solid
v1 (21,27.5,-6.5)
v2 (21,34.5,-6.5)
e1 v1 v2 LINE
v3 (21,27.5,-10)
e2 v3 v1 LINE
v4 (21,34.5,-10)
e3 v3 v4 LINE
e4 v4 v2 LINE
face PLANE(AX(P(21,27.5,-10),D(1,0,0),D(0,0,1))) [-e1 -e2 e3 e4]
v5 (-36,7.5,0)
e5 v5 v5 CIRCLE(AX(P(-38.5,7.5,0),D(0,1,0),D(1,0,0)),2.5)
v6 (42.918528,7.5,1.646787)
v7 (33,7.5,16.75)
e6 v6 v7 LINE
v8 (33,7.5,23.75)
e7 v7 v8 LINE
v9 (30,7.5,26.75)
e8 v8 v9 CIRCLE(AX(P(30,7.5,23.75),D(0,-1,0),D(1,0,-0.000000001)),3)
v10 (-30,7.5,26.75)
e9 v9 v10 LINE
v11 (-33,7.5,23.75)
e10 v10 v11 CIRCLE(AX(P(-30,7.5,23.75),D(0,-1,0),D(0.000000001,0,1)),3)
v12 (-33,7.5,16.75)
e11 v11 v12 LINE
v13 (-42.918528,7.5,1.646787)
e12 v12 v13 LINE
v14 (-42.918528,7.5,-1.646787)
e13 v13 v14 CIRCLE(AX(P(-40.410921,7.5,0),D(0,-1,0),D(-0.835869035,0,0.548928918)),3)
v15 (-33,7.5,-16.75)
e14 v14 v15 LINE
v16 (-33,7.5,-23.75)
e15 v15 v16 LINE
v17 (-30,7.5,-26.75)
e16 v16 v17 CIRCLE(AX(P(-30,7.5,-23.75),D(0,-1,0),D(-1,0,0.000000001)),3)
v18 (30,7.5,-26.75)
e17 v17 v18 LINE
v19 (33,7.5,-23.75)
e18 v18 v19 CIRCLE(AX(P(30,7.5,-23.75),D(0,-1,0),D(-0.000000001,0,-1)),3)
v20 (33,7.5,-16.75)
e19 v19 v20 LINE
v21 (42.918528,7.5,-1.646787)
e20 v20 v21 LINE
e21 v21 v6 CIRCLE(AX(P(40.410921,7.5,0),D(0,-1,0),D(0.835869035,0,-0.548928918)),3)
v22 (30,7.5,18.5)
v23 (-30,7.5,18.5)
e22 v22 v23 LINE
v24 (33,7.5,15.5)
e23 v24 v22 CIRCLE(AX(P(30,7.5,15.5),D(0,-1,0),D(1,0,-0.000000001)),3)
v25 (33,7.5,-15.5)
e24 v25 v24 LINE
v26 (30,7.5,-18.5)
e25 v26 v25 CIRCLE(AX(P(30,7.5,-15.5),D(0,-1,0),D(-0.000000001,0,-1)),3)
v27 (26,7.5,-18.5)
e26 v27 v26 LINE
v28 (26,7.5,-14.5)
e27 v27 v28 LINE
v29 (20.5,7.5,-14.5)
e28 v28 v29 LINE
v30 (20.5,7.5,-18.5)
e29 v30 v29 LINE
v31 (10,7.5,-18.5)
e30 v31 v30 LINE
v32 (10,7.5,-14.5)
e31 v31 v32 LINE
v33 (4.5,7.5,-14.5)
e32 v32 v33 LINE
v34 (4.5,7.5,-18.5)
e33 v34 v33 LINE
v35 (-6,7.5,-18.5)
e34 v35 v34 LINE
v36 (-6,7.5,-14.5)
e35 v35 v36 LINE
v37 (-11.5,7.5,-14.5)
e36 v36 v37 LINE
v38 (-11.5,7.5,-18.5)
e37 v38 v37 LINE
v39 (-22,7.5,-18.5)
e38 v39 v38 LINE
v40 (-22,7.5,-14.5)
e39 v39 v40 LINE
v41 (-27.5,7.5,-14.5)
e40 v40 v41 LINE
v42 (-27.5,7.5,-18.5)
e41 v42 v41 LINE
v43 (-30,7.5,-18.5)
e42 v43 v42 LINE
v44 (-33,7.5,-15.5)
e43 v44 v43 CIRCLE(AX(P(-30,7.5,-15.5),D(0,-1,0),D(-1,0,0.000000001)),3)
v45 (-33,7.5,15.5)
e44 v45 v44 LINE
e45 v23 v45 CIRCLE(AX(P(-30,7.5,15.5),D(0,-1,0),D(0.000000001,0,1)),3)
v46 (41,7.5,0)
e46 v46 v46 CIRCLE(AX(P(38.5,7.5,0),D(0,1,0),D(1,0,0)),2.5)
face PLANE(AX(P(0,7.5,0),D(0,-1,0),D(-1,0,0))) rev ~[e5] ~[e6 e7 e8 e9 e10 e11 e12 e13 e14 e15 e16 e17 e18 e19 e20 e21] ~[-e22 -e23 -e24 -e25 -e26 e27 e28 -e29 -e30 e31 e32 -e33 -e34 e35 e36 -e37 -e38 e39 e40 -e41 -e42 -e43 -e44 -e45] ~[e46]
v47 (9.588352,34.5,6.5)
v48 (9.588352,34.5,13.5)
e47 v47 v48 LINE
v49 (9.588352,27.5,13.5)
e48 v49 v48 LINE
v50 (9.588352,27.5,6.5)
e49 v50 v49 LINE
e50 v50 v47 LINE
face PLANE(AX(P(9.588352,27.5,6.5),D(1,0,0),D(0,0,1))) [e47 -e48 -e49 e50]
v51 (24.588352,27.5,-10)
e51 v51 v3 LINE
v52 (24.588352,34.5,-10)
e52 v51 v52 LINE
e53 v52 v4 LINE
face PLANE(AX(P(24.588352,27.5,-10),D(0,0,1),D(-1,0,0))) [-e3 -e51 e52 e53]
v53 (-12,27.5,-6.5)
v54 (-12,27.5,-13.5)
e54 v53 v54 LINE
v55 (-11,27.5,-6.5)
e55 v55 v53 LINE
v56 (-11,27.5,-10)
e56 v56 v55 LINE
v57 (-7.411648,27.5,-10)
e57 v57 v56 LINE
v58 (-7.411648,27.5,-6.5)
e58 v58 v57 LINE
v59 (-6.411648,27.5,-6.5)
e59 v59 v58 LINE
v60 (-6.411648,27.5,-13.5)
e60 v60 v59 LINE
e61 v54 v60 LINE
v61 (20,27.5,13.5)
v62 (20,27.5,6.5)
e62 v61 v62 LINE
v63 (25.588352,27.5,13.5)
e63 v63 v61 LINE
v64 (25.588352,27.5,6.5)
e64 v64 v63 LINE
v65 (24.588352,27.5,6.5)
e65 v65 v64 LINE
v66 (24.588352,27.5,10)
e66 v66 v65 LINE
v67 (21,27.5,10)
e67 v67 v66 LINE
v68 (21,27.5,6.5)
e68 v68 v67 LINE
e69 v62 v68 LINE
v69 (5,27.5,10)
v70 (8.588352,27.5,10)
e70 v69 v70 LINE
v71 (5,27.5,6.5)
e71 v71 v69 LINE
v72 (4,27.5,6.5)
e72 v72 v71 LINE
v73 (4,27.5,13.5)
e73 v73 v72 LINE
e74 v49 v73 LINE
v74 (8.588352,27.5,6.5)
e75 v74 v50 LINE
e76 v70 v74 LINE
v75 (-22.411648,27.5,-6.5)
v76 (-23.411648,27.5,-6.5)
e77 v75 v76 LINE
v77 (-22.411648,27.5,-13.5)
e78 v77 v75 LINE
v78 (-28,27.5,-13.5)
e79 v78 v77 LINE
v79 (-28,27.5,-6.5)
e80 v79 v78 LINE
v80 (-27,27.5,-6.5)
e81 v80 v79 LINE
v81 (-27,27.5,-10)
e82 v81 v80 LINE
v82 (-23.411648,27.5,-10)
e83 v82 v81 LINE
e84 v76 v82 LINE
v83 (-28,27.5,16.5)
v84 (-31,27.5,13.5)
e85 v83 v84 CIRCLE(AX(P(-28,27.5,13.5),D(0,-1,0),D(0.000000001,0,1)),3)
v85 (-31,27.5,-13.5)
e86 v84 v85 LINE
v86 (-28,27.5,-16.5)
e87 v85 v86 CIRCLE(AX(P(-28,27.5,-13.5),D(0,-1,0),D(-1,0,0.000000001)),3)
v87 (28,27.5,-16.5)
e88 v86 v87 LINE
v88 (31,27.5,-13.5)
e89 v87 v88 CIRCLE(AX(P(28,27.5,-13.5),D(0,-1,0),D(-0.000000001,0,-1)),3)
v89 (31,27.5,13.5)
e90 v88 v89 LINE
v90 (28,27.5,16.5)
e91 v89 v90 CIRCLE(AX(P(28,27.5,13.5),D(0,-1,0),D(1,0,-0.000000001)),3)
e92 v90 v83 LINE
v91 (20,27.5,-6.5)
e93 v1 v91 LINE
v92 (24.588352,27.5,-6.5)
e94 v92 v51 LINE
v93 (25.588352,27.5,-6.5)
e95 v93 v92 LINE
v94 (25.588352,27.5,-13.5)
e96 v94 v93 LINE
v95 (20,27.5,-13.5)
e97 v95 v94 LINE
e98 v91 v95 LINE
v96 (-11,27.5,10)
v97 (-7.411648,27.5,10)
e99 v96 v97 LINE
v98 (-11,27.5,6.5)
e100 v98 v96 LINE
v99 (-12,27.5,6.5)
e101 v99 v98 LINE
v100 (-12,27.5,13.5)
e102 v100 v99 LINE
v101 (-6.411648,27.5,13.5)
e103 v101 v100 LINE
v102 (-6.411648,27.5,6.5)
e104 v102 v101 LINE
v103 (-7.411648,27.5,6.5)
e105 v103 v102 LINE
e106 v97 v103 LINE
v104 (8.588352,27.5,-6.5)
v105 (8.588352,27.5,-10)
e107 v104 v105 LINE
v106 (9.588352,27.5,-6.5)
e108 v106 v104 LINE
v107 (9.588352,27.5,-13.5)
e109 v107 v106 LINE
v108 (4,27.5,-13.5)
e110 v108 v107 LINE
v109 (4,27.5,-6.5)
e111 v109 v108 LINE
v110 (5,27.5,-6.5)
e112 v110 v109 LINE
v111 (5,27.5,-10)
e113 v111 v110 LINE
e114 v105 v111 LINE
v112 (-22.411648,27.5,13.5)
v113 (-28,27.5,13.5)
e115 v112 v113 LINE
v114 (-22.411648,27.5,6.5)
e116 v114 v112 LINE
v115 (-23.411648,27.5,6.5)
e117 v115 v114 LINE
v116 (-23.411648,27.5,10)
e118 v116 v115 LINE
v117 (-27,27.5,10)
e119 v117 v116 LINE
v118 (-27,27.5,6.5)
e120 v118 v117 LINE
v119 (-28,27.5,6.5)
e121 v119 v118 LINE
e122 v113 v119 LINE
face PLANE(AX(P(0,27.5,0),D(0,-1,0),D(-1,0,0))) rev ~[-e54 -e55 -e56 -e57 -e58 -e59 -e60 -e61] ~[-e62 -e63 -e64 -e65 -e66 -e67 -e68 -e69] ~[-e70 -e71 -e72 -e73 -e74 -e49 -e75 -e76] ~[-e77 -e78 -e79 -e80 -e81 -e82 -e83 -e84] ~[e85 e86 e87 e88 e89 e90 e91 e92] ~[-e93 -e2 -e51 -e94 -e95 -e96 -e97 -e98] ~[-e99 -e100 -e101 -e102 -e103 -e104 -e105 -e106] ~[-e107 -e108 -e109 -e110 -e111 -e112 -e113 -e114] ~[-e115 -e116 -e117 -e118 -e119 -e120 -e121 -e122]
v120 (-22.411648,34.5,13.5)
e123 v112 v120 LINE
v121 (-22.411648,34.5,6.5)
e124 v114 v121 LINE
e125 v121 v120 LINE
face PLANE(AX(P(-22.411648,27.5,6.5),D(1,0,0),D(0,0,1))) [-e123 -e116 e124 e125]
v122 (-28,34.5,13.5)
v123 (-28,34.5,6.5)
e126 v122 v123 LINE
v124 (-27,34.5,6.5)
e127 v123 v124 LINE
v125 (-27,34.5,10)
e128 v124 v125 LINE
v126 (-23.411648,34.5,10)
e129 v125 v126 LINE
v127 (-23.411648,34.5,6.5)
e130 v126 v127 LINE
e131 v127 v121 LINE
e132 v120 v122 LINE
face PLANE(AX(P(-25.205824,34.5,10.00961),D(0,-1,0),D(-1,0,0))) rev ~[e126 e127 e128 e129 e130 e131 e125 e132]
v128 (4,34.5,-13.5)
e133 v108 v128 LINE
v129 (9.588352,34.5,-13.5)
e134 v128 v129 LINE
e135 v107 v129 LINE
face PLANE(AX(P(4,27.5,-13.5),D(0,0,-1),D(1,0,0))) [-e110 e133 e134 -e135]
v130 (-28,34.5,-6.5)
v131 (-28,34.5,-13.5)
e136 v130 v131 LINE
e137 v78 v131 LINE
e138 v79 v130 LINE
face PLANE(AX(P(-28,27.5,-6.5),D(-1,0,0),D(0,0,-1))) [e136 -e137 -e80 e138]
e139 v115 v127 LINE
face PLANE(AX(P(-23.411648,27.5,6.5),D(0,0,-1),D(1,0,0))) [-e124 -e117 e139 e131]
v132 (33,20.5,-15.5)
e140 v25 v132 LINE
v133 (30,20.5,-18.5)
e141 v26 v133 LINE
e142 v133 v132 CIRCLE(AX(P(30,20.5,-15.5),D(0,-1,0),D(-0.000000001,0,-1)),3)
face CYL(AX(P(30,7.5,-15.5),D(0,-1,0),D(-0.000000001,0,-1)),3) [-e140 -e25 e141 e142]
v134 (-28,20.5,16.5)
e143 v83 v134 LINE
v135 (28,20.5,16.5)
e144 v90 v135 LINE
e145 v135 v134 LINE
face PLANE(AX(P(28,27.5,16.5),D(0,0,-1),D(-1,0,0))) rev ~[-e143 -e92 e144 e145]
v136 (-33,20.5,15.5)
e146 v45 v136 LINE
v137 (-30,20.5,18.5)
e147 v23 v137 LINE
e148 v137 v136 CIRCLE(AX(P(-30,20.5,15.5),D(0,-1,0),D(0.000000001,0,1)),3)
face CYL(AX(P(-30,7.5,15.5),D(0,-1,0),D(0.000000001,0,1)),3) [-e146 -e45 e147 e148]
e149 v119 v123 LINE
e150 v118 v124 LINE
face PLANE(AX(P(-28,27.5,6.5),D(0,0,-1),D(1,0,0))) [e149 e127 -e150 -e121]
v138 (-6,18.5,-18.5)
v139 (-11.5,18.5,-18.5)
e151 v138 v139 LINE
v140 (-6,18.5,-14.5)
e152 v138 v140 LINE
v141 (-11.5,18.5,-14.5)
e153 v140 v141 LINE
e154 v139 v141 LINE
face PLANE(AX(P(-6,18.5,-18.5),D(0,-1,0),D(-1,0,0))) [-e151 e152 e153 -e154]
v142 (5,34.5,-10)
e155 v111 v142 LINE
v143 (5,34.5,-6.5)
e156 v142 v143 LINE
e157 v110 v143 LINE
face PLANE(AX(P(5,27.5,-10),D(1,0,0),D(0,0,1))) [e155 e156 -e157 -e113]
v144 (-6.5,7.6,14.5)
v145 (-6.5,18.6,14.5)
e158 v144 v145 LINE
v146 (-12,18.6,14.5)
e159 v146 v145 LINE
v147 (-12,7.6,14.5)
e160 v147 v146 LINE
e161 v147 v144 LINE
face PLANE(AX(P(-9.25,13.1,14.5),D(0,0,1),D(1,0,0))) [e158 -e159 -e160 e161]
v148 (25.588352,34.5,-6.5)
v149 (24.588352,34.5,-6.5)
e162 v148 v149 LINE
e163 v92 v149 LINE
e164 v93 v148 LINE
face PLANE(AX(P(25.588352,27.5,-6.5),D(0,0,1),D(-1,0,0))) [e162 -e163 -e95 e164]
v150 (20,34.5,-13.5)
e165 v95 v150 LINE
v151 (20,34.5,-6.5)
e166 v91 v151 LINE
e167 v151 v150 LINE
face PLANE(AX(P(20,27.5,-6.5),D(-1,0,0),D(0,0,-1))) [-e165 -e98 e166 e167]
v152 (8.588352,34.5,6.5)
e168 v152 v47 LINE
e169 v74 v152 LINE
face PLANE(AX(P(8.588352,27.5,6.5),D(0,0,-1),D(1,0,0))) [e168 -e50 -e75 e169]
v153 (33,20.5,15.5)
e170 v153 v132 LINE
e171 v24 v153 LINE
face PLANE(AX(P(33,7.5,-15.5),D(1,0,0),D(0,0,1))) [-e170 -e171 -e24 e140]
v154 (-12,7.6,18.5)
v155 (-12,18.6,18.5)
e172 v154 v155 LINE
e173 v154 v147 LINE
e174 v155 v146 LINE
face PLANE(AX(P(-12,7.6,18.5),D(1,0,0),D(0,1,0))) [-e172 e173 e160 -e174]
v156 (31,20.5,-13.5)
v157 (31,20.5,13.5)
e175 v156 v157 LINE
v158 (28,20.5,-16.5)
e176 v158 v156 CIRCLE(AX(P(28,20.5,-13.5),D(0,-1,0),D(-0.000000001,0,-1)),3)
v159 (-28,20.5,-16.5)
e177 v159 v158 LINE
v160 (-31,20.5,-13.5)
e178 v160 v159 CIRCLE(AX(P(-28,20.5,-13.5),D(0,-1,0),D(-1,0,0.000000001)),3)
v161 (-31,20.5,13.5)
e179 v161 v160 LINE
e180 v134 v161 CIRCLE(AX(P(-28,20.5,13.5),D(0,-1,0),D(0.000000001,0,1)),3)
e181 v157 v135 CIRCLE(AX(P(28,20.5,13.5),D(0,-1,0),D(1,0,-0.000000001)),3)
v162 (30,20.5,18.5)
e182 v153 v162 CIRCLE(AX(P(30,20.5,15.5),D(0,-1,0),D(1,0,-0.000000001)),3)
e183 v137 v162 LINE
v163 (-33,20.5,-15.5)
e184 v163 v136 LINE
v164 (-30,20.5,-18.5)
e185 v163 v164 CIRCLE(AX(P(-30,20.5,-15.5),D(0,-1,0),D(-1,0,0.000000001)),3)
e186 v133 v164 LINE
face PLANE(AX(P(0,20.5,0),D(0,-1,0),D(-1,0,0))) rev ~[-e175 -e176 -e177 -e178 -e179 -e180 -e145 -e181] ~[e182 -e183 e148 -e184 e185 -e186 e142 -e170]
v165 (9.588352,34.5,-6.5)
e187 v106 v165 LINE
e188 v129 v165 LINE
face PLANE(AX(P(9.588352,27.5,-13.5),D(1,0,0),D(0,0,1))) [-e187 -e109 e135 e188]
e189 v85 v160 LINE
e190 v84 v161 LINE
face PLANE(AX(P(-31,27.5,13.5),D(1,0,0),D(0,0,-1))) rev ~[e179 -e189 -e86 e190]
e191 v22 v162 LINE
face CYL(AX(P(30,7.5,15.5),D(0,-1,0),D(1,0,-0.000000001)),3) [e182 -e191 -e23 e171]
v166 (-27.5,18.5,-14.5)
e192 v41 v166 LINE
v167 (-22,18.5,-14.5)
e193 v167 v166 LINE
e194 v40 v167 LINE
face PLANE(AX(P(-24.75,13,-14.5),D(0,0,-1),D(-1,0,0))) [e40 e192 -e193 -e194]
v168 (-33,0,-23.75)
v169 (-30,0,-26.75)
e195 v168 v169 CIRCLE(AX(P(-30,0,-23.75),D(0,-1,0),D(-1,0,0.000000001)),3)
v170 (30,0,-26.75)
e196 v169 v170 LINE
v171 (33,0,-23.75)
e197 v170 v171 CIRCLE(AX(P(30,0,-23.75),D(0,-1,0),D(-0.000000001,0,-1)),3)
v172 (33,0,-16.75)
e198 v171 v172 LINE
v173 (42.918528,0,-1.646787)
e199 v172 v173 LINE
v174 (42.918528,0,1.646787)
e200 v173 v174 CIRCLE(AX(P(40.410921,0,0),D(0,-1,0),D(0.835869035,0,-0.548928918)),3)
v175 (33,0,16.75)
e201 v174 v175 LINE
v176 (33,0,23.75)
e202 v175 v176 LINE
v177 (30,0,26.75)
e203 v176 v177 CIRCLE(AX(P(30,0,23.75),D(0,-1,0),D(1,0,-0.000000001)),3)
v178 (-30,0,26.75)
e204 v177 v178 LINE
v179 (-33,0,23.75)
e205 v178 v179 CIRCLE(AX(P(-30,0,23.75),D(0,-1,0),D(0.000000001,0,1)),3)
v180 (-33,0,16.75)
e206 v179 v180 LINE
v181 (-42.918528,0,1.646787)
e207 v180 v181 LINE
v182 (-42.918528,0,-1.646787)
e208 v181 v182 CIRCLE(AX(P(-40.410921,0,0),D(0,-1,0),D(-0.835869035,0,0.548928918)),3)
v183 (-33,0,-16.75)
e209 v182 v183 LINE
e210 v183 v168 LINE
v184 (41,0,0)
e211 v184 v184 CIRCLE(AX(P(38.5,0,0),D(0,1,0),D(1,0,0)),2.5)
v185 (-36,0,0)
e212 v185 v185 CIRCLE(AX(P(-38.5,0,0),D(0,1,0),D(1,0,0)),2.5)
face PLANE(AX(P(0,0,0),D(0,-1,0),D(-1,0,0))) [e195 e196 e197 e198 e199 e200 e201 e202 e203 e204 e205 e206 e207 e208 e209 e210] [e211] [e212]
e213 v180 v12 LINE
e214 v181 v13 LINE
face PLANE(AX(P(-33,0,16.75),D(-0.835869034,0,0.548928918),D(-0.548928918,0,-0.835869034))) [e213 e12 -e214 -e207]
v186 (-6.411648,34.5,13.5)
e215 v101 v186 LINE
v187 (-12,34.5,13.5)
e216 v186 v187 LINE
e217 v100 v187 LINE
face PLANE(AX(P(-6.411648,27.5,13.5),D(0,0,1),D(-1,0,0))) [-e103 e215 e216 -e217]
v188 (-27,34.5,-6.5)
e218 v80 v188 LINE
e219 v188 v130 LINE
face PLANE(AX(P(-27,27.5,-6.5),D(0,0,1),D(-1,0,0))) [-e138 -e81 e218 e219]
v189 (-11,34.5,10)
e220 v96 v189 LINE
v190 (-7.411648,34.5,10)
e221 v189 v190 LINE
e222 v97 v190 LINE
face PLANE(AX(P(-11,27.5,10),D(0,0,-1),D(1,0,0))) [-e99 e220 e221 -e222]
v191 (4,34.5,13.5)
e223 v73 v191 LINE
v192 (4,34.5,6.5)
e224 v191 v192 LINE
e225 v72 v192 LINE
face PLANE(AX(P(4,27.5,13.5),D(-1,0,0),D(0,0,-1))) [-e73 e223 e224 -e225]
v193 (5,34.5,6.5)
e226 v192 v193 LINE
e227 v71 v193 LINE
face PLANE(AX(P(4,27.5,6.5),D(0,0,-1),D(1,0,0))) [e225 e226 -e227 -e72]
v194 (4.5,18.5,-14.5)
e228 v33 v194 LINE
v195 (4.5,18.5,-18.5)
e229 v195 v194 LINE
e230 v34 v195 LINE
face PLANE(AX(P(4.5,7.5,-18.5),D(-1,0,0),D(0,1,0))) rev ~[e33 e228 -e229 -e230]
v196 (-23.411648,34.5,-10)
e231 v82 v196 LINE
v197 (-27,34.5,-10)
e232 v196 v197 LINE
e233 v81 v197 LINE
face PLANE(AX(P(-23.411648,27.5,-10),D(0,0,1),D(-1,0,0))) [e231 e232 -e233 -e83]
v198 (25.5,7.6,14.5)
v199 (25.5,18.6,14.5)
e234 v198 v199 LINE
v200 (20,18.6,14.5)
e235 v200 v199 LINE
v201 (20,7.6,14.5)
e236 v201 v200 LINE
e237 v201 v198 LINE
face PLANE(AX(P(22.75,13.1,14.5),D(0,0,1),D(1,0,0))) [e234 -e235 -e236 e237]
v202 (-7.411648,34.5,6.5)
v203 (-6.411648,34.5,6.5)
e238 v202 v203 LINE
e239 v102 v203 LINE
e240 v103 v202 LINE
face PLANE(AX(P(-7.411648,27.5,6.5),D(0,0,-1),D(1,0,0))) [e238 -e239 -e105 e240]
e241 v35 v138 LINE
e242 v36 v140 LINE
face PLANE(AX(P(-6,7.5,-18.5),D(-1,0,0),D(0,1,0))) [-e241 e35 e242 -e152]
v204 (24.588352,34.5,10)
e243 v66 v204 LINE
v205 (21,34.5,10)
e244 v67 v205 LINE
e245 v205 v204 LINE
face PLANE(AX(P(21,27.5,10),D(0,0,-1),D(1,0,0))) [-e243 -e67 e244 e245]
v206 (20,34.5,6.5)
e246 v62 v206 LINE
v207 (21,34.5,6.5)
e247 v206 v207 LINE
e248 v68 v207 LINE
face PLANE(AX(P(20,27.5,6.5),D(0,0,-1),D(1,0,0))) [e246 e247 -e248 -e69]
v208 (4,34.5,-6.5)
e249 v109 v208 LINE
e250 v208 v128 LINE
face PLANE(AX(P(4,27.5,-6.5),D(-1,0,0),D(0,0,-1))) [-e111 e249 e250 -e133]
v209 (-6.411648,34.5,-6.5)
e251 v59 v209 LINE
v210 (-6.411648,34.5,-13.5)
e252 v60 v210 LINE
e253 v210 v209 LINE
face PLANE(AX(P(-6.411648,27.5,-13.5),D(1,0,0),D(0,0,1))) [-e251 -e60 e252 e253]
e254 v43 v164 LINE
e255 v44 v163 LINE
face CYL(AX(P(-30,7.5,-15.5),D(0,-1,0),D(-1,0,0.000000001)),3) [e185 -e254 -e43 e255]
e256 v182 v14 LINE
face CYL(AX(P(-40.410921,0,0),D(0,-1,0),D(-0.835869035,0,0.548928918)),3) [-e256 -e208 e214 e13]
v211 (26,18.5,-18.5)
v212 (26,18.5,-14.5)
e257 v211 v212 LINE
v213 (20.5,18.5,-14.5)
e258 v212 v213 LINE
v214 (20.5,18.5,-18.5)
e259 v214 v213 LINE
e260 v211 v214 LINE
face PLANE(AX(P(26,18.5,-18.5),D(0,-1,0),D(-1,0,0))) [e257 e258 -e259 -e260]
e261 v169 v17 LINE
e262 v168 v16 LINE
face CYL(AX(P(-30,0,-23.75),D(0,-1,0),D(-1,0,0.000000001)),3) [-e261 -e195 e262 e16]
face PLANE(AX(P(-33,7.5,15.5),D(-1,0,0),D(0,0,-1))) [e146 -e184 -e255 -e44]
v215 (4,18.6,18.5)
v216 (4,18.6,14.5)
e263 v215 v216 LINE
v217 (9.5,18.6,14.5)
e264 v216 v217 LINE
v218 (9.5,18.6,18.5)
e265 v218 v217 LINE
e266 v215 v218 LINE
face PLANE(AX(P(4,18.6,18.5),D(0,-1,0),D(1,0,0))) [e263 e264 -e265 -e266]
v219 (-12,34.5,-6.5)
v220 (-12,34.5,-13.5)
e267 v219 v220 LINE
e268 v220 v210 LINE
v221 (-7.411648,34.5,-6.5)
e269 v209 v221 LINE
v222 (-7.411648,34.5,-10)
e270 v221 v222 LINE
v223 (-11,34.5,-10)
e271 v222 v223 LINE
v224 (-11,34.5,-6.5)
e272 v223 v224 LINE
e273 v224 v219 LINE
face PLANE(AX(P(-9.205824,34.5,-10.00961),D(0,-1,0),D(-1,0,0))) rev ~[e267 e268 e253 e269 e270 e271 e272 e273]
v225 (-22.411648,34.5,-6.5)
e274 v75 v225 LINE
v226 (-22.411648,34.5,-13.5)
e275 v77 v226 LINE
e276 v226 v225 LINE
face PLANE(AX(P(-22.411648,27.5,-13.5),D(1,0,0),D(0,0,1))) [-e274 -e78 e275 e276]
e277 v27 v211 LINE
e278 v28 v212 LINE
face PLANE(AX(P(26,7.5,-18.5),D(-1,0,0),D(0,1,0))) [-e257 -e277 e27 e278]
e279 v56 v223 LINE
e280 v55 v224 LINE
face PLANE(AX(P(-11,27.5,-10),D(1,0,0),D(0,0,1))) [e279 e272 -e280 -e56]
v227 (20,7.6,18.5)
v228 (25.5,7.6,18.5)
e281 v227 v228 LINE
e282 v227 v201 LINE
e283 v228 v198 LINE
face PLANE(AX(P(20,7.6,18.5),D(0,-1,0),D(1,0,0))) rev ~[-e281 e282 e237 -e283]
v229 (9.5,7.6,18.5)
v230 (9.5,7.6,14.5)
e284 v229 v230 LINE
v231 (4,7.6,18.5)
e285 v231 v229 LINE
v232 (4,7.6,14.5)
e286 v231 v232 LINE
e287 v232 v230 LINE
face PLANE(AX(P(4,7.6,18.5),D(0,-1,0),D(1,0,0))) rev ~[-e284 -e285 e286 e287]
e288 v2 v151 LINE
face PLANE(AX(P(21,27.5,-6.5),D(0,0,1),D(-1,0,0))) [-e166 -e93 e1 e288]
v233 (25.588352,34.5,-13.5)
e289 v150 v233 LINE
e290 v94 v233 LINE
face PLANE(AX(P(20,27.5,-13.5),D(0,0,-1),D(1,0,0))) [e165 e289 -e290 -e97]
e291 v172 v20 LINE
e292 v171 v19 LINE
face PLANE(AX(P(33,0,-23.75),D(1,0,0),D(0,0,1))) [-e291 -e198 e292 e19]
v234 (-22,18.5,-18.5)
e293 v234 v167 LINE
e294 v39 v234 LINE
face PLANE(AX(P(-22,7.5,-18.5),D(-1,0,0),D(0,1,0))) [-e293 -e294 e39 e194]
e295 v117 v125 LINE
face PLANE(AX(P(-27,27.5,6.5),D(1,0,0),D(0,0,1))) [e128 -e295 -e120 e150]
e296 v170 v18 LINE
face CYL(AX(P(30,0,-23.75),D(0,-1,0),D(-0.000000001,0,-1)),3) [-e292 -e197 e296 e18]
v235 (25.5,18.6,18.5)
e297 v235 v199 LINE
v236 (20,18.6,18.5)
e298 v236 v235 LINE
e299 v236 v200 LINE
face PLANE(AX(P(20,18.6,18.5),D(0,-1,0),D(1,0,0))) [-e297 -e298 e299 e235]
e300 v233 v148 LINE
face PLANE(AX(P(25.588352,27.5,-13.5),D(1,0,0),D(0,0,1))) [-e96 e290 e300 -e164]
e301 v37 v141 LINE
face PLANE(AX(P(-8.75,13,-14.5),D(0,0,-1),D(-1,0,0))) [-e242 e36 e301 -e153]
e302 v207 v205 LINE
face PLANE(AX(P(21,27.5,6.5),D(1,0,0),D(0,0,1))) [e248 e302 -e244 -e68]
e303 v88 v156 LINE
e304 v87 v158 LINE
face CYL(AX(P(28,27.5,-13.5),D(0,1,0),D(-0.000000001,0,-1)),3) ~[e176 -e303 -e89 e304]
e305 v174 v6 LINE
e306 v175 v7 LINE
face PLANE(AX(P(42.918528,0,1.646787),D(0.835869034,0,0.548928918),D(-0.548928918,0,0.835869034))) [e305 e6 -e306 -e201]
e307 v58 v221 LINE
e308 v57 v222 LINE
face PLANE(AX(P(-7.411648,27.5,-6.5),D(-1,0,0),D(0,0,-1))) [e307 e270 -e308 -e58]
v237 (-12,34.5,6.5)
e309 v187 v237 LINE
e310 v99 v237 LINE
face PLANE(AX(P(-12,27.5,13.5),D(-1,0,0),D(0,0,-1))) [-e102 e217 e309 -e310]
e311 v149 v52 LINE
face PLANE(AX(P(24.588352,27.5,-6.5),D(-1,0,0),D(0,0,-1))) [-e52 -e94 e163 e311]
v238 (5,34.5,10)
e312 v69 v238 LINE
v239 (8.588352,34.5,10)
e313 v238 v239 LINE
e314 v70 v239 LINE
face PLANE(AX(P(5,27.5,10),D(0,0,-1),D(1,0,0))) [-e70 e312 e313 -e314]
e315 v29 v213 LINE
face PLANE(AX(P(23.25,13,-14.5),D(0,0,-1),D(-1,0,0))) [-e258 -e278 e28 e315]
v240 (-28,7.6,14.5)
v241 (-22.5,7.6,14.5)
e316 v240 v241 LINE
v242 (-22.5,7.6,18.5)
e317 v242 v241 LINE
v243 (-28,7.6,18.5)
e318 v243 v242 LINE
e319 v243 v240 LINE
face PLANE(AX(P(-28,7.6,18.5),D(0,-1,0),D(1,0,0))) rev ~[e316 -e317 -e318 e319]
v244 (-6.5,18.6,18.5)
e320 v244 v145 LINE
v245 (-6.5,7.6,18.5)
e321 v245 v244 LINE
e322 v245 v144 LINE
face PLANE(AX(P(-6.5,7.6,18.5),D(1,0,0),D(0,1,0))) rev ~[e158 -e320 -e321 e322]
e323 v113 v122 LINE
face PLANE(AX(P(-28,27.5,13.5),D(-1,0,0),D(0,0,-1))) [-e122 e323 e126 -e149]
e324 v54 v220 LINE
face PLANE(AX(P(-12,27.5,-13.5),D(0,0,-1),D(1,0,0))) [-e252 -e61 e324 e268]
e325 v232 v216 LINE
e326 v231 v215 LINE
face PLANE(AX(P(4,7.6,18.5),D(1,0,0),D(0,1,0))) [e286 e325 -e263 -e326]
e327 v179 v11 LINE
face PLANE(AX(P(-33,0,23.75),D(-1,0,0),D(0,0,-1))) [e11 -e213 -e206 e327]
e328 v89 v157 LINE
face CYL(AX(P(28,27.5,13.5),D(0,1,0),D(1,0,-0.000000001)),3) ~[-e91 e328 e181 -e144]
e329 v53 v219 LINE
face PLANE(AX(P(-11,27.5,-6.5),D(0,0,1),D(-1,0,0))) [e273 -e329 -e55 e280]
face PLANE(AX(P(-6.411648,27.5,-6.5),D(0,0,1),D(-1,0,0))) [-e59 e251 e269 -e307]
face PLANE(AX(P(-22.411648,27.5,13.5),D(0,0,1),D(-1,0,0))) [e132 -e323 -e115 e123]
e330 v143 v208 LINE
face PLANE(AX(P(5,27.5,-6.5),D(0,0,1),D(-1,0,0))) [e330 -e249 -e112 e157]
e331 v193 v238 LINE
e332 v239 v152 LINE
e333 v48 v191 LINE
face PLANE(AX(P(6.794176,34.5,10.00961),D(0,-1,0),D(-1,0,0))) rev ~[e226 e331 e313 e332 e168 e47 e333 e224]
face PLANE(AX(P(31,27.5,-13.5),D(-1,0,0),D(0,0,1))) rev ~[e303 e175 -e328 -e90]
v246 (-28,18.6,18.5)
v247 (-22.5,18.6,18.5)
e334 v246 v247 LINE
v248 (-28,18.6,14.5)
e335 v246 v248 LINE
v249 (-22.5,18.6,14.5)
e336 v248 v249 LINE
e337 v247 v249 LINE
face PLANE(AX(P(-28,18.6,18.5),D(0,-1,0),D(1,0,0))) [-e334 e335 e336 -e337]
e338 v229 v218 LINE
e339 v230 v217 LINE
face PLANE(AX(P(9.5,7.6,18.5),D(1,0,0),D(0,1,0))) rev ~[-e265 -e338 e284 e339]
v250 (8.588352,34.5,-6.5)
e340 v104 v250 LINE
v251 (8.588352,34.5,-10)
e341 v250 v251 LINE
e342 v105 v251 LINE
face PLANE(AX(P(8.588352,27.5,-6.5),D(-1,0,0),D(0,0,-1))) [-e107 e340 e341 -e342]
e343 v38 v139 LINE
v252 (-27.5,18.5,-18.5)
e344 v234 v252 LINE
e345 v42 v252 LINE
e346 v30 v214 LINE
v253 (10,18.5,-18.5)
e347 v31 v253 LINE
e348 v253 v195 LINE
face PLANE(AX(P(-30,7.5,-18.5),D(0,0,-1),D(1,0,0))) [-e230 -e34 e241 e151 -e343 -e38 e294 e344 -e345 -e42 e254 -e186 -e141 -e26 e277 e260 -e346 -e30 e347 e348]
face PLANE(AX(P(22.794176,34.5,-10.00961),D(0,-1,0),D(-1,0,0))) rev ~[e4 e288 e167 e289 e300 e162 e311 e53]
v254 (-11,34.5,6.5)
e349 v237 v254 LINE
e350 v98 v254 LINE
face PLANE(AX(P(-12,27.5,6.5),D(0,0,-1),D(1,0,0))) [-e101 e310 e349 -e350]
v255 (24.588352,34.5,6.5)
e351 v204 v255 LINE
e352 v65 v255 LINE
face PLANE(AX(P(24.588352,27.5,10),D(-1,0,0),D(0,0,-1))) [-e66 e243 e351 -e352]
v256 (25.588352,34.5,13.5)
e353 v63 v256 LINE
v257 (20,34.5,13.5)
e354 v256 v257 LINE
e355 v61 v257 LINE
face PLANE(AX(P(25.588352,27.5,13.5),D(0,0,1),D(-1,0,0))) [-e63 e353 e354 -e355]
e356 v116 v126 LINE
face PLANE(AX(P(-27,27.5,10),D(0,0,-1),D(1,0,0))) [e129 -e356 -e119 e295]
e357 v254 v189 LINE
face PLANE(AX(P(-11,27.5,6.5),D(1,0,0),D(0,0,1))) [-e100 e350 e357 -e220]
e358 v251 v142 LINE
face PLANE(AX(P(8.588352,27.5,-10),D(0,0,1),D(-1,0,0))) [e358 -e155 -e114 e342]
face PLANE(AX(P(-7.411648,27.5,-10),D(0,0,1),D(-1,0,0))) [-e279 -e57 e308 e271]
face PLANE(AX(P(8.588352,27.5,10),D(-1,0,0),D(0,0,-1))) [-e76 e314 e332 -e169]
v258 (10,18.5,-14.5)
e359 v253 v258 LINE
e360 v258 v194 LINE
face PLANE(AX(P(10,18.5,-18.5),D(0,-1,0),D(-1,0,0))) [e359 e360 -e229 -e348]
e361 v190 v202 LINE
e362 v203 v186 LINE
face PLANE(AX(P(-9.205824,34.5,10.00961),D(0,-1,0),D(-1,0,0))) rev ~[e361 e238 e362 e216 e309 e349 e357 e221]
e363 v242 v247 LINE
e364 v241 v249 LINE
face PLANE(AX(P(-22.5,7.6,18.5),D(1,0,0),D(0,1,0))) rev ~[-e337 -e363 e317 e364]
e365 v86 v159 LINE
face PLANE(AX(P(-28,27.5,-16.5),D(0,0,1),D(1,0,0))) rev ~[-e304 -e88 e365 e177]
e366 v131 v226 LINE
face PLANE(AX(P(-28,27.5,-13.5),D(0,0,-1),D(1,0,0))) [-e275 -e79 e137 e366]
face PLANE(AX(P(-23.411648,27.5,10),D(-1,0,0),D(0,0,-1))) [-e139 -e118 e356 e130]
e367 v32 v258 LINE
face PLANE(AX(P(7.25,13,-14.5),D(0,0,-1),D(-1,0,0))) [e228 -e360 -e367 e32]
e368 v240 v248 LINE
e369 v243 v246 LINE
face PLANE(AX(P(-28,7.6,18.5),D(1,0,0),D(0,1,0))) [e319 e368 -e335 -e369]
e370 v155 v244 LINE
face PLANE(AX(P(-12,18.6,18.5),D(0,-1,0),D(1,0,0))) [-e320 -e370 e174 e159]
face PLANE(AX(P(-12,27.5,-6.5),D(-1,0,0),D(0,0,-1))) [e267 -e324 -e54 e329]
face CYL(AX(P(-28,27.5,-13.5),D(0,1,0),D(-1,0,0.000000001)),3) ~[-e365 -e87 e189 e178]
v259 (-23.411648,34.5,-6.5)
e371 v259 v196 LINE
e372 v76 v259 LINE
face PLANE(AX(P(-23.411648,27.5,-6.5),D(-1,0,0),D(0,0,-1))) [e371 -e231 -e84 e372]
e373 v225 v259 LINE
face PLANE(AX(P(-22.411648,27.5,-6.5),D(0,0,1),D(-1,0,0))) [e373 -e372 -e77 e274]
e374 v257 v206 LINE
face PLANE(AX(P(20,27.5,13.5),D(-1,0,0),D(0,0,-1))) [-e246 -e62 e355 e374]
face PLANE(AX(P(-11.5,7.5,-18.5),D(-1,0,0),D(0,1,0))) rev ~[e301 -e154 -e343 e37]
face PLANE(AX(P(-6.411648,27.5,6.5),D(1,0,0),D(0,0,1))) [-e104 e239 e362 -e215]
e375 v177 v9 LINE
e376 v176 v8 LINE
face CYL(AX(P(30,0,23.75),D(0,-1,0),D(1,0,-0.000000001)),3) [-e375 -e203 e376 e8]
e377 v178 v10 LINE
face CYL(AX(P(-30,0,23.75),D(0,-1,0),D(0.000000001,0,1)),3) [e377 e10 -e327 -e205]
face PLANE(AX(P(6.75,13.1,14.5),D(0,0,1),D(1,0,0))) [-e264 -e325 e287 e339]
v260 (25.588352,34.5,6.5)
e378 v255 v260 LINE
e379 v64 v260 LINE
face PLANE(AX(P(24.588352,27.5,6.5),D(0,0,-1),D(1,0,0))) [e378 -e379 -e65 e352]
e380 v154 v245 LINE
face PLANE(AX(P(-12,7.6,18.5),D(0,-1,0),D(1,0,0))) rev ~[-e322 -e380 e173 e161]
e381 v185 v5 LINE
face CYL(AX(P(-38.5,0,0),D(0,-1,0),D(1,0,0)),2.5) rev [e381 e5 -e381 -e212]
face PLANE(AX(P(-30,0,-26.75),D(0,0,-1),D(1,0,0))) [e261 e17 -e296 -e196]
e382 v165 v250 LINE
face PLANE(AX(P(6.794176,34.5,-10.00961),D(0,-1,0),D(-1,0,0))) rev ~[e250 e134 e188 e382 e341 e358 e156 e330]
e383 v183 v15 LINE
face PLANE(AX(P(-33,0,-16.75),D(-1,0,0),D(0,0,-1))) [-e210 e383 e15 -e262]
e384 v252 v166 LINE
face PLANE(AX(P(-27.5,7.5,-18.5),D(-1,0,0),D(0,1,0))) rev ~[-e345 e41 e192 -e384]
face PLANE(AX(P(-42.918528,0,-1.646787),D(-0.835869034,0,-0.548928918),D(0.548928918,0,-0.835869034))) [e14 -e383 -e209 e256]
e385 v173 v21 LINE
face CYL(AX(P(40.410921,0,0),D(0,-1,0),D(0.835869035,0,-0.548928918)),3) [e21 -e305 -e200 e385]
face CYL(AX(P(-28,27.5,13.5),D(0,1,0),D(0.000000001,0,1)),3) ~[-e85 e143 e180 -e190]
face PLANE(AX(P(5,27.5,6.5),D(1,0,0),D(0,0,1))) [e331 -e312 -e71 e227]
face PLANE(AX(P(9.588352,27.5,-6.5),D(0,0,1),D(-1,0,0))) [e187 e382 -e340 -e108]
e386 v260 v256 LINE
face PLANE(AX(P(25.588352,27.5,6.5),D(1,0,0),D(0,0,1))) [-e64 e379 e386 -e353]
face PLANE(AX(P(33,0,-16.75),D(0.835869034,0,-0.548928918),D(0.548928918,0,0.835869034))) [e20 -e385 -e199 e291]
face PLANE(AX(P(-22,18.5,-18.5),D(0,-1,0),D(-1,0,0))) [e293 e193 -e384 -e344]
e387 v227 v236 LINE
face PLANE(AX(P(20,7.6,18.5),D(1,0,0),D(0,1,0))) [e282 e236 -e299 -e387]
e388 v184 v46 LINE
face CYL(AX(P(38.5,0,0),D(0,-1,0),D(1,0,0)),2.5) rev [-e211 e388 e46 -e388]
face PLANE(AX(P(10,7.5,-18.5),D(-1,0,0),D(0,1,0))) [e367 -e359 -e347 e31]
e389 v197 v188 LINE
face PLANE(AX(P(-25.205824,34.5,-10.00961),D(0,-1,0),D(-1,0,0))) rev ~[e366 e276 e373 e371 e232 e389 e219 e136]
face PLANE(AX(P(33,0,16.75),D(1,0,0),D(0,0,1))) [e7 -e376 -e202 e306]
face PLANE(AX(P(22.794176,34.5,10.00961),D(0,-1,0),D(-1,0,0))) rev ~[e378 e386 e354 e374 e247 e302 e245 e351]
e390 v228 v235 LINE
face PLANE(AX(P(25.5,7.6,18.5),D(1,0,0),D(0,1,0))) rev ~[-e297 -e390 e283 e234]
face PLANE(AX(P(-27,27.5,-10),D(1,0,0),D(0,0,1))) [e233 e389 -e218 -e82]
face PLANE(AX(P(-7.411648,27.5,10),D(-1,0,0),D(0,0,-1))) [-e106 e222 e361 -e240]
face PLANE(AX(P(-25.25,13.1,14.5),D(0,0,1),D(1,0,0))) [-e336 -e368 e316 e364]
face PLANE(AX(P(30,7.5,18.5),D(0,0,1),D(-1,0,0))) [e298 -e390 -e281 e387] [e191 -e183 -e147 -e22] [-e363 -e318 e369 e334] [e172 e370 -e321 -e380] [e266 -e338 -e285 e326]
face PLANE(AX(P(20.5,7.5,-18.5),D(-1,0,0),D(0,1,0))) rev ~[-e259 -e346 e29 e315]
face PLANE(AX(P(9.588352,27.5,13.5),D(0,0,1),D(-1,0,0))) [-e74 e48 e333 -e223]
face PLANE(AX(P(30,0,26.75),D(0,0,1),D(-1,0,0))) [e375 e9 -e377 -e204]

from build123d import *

# Parameters (mm, degrees)
SKETCH1_R               = 2.5
BOSS_EXTRUDE1_DEPTH     = 7.5
BOSS_EXTRUDE2_DEPTH     = 20
BOSS_EXTRUDE3_DEPTH     = 7
CUT_EXTRUDE_THIN1_DEPTH = 7
SKETCH5_W               = 5.5
SKETCH5_H               = 11
CUT_EXTRUDE2_DEPTH      = 4
SKETCH6_W               = 5.5
SKETCH6_H               = 11
CUT_EXTRUDE3_DEPTH      = 4


with BuildPart() as part:
    # Sketch1 → Boss-Extrude1 (new body)
    with BuildSketch(Plane(origin=(0, 0, 0), x_dir=(1, 0, 0), z_dir=(0, 1, 0))):
        with BuildLine():
            Line((33, 16.75), (42.918528102, 1.646786754))
            ThreePointArc((42.918528102, 1.646786754), (43.410920998, 0), (42.918528102, -1.646786754))
            Line((42.918528102, -1.646786754), (33, -16.75))
            Line((33, -16.75), (33, -23.75))
            ThreePointArc((33, -23.75), (32.121320344, -25.871320344), (30, -26.75))
            Line((30, -26.75), (-30, -26.75))
            ThreePointArc((-30, -26.75), (-32.121320344, -25.871320344), (-33, -23.75))
            Line((-33, -23.75), (-33, -16.75))
            Line((-33, -16.75), (-42.918528102, -1.646786754))
            ThreePointArc((-42.918528102, -1.646786754), (-43.410920998, 0), (-42.918528102, 1.646786754))
            Line((-42.918528102, 1.646786754), (-33, 16.75))
            Line((-33, 16.75), (-33, 23.75))
            ThreePointArc((-33, 23.75), (-32.121320344, 25.871320344), (-30, 26.75))
            Line((-30, 26.75), (30, 26.75))
            ThreePointArc((30, 26.75), (32.121320344, 25.871320344), (33, 23.75))
            Line((33, 23.75), (33, 16.75))
        make_face()
        with Locations((38.5, 0)):
            Circle(SKETCH1_R, mode=Mode.SUBTRACT)
        with Locations((-38.5, 0)):
            Circle(SKETCH1_R, mode=Mode.SUBTRACT)
    extrude(amount=BOSS_EXTRUDE1_DEPTH)

    # Sketch2 → Boss-Extrude2 (add)
    with BuildSketch(Plane(origin=(0, 7.5, 0), x_dir=(1, 0, 0), z_dir=(0, 1, 0))):
        with BuildLine():
            Line((-30, 18.5), (30, 18.5))
            ThreePointArc((30, 18.5), (32.121320344, 17.621320344), (33, 15.5))
            Line((33, 15.5), (33, -15.5))
            ThreePointArc((33, -15.5), (32.121320344, -17.621320344), (30, -18.5))
            Line((30, -18.5), (-30, -18.5))
            ThreePointArc((-30, -18.5), (-32.121320344, -17.621320344), (-33, -15.5))
            Line((-33, -15.5), (-33, 15.5))
            ThreePointArc((-33, 15.5), (-32.121320344, 17.621320344), (-30, 18.5))
        make_face()
    extrude(amount=BOSS_EXTRUDE2_DEPTH)

    # Sketch3 → Boss-Extrude3 (add)
    with BuildSketch(Plane(origin=(0, 27.5, 0), x_dir=(1, 0, 0), z_dir=(0, 1, 0))):
        Polygon((-28, 13.5), (-22.4116483, 13.5), (-22.4116483, 6.5), (-23.4116483, 6.5), (-23.4116483, 10), (-27, 10), (-27, 6.5), (-28, 6.5), align=None)
        Polygon((-12, 13.5), (-6.4116483, 13.5), (-6.4116483, 6.5), (-7.4116483, 6.5), (-7.4116483, 10), (-11, 10), (-11, 6.5), (-12, 6.5), align=None)
        Polygon((4, 13.5), (9.5883517, 13.5), (9.5883517, 6.5), (8.5883517, 6.5), (8.5883517, 10), (5, 10), (5, 6.5), (4, 6.5), align=None)
        Polygon((20, 13.5), (25.5883517, 13.5), (25.5883517, 6.5), (24.5883517, 6.5), (24.5883517, 10), (21, 10), (21, 6.5), (20, 6.5), align=None)
        Polygon((-12, -6.5), (-11, -6.5), (-11, -10), (-7.4116483, -10), (-7.4116483, -6.5), (-6.4116483, -6.5), (-6.4116483, -13.5), (-12, -13.5), align=None)
        Polygon((4, -6.5), (5, -6.5), (5, -10), (8.5883517, -10), (8.5883517, -6.5), (9.5883517, -6.5), (9.5883517, -13.5), (4, -13.5), align=None)
        Polygon((20, -6.5), (21, -6.5), (21, -10), (24.5883517, -10), (24.5883517, -6.5), (25.5883517, -6.5), (25.5883517, -13.5), (20, -13.5), align=None)
        Polygon((-28, -6.5), (-27, -6.5), (-27, -10), (-23.4116483, -10), (-23.4116483, -6.5), (-22.4116483, -6.5), (-22.4116483, -13.5), (-28, -13.5), align=None)
    extrude(amount=BOSS_EXTRUDE3_DEPTH)

    # Sketch4 → Cut-Extrude-Thin1 (cut)
    with BuildSketch(Plane(origin=(0, 27.5, 0), x_dir=(1, 0, 0), z_dir=(0, 1, 0))):
        with BuildLine():
            Line((-28, 19.5), (28, 19.5))
            ThreePointArc((28, 19.5), (32.242640687, 17.742640687), (34, 13.5))
            Line((34, 13.5), (34, -13.5))
            ThreePointArc((34, -13.5), (32.242640687, -17.742640687), (28, -19.5))
            Line((28, -19.5), (-28, -19.5))
            ThreePointArc((-28, -19.5), (-32.242640687, -17.742640687), (-34, -13.5))
            Line((-34, -13.5), (-34, 13.5))
            ThreePointArc((-34, 13.5), (-32.242640687, 17.742640687), (-28, 19.5))
        make_face()
        with BuildLine():
            Line((-28, 16.5), (28, 16.5))
            ThreePointArc((28, 16.5), (30.121320344, 15.621320344), (31, 13.5))
            Line((31, 13.5), (31, -13.5))
            ThreePointArc((31, -13.5), (30.121320344, -15.621320344), (28, -16.5))
            Line((28, -16.5), (-28, -16.5))
            ThreePointArc((-28, -16.5), (-30.121320344, -15.621320344), (-31, -13.5))
            Line((-31, -13.5), (-31, 13.5))
            ThreePointArc((-31, 13.5), (-30.121320344, 15.621320344), (-28, 16.5))
        make_face(mode=Mode.SUBTRACT)
    extrude(amount=-CUT_EXTRUDE_THIN1_DEPTH, mode=Mode.SUBTRACT)

    # Sketch5 → Cut-Extrude2 (cut)
    with BuildSketch(Plane.XY.offset(18.5)):
        with Locations((-25.25, 13.1)):
            Rectangle(SKETCH5_W, SKETCH5_H)
        with Locations((-9.25, 13.1)):
            Rectangle(SKETCH5_W, SKETCH5_H)
        with Locations((6.75, 13.1)):
            Rectangle(SKETCH5_W, SKETCH5_H)
        with Locations((22.75, 13.1)):
            Rectangle(SKETCH5_W, SKETCH5_H)
    extrude(amount=-CUT_EXTRUDE2_DEPTH, mode=Mode.SUBTRACT)

    # Sketch6 → Cut-Extrude3 (cut)
    with BuildSketch(Plane(origin=(0, 0, -18.5), x_dir=(-1, 0, 0), z_dir=(0, 0, -1))):
        with Locations((-23.25, 13)):
            Rectangle(SKETCH6_W, SKETCH6_H)
        with Locations((-7.25, 13)):
            Rectangle(SKETCH6_W, SKETCH6_H)
        with Locations((8.75, 13)):
            Rectangle(SKETCH6_W, SKETCH6_H)
        with Locations((24.75, 13)):
            Rectangle(SKETCH6_W, SKETCH6_H)
    extrude(amount=-CUT_EXTRUDE3_DEPTH, mode=Mode.SUBTRACT)


solid = part.part
